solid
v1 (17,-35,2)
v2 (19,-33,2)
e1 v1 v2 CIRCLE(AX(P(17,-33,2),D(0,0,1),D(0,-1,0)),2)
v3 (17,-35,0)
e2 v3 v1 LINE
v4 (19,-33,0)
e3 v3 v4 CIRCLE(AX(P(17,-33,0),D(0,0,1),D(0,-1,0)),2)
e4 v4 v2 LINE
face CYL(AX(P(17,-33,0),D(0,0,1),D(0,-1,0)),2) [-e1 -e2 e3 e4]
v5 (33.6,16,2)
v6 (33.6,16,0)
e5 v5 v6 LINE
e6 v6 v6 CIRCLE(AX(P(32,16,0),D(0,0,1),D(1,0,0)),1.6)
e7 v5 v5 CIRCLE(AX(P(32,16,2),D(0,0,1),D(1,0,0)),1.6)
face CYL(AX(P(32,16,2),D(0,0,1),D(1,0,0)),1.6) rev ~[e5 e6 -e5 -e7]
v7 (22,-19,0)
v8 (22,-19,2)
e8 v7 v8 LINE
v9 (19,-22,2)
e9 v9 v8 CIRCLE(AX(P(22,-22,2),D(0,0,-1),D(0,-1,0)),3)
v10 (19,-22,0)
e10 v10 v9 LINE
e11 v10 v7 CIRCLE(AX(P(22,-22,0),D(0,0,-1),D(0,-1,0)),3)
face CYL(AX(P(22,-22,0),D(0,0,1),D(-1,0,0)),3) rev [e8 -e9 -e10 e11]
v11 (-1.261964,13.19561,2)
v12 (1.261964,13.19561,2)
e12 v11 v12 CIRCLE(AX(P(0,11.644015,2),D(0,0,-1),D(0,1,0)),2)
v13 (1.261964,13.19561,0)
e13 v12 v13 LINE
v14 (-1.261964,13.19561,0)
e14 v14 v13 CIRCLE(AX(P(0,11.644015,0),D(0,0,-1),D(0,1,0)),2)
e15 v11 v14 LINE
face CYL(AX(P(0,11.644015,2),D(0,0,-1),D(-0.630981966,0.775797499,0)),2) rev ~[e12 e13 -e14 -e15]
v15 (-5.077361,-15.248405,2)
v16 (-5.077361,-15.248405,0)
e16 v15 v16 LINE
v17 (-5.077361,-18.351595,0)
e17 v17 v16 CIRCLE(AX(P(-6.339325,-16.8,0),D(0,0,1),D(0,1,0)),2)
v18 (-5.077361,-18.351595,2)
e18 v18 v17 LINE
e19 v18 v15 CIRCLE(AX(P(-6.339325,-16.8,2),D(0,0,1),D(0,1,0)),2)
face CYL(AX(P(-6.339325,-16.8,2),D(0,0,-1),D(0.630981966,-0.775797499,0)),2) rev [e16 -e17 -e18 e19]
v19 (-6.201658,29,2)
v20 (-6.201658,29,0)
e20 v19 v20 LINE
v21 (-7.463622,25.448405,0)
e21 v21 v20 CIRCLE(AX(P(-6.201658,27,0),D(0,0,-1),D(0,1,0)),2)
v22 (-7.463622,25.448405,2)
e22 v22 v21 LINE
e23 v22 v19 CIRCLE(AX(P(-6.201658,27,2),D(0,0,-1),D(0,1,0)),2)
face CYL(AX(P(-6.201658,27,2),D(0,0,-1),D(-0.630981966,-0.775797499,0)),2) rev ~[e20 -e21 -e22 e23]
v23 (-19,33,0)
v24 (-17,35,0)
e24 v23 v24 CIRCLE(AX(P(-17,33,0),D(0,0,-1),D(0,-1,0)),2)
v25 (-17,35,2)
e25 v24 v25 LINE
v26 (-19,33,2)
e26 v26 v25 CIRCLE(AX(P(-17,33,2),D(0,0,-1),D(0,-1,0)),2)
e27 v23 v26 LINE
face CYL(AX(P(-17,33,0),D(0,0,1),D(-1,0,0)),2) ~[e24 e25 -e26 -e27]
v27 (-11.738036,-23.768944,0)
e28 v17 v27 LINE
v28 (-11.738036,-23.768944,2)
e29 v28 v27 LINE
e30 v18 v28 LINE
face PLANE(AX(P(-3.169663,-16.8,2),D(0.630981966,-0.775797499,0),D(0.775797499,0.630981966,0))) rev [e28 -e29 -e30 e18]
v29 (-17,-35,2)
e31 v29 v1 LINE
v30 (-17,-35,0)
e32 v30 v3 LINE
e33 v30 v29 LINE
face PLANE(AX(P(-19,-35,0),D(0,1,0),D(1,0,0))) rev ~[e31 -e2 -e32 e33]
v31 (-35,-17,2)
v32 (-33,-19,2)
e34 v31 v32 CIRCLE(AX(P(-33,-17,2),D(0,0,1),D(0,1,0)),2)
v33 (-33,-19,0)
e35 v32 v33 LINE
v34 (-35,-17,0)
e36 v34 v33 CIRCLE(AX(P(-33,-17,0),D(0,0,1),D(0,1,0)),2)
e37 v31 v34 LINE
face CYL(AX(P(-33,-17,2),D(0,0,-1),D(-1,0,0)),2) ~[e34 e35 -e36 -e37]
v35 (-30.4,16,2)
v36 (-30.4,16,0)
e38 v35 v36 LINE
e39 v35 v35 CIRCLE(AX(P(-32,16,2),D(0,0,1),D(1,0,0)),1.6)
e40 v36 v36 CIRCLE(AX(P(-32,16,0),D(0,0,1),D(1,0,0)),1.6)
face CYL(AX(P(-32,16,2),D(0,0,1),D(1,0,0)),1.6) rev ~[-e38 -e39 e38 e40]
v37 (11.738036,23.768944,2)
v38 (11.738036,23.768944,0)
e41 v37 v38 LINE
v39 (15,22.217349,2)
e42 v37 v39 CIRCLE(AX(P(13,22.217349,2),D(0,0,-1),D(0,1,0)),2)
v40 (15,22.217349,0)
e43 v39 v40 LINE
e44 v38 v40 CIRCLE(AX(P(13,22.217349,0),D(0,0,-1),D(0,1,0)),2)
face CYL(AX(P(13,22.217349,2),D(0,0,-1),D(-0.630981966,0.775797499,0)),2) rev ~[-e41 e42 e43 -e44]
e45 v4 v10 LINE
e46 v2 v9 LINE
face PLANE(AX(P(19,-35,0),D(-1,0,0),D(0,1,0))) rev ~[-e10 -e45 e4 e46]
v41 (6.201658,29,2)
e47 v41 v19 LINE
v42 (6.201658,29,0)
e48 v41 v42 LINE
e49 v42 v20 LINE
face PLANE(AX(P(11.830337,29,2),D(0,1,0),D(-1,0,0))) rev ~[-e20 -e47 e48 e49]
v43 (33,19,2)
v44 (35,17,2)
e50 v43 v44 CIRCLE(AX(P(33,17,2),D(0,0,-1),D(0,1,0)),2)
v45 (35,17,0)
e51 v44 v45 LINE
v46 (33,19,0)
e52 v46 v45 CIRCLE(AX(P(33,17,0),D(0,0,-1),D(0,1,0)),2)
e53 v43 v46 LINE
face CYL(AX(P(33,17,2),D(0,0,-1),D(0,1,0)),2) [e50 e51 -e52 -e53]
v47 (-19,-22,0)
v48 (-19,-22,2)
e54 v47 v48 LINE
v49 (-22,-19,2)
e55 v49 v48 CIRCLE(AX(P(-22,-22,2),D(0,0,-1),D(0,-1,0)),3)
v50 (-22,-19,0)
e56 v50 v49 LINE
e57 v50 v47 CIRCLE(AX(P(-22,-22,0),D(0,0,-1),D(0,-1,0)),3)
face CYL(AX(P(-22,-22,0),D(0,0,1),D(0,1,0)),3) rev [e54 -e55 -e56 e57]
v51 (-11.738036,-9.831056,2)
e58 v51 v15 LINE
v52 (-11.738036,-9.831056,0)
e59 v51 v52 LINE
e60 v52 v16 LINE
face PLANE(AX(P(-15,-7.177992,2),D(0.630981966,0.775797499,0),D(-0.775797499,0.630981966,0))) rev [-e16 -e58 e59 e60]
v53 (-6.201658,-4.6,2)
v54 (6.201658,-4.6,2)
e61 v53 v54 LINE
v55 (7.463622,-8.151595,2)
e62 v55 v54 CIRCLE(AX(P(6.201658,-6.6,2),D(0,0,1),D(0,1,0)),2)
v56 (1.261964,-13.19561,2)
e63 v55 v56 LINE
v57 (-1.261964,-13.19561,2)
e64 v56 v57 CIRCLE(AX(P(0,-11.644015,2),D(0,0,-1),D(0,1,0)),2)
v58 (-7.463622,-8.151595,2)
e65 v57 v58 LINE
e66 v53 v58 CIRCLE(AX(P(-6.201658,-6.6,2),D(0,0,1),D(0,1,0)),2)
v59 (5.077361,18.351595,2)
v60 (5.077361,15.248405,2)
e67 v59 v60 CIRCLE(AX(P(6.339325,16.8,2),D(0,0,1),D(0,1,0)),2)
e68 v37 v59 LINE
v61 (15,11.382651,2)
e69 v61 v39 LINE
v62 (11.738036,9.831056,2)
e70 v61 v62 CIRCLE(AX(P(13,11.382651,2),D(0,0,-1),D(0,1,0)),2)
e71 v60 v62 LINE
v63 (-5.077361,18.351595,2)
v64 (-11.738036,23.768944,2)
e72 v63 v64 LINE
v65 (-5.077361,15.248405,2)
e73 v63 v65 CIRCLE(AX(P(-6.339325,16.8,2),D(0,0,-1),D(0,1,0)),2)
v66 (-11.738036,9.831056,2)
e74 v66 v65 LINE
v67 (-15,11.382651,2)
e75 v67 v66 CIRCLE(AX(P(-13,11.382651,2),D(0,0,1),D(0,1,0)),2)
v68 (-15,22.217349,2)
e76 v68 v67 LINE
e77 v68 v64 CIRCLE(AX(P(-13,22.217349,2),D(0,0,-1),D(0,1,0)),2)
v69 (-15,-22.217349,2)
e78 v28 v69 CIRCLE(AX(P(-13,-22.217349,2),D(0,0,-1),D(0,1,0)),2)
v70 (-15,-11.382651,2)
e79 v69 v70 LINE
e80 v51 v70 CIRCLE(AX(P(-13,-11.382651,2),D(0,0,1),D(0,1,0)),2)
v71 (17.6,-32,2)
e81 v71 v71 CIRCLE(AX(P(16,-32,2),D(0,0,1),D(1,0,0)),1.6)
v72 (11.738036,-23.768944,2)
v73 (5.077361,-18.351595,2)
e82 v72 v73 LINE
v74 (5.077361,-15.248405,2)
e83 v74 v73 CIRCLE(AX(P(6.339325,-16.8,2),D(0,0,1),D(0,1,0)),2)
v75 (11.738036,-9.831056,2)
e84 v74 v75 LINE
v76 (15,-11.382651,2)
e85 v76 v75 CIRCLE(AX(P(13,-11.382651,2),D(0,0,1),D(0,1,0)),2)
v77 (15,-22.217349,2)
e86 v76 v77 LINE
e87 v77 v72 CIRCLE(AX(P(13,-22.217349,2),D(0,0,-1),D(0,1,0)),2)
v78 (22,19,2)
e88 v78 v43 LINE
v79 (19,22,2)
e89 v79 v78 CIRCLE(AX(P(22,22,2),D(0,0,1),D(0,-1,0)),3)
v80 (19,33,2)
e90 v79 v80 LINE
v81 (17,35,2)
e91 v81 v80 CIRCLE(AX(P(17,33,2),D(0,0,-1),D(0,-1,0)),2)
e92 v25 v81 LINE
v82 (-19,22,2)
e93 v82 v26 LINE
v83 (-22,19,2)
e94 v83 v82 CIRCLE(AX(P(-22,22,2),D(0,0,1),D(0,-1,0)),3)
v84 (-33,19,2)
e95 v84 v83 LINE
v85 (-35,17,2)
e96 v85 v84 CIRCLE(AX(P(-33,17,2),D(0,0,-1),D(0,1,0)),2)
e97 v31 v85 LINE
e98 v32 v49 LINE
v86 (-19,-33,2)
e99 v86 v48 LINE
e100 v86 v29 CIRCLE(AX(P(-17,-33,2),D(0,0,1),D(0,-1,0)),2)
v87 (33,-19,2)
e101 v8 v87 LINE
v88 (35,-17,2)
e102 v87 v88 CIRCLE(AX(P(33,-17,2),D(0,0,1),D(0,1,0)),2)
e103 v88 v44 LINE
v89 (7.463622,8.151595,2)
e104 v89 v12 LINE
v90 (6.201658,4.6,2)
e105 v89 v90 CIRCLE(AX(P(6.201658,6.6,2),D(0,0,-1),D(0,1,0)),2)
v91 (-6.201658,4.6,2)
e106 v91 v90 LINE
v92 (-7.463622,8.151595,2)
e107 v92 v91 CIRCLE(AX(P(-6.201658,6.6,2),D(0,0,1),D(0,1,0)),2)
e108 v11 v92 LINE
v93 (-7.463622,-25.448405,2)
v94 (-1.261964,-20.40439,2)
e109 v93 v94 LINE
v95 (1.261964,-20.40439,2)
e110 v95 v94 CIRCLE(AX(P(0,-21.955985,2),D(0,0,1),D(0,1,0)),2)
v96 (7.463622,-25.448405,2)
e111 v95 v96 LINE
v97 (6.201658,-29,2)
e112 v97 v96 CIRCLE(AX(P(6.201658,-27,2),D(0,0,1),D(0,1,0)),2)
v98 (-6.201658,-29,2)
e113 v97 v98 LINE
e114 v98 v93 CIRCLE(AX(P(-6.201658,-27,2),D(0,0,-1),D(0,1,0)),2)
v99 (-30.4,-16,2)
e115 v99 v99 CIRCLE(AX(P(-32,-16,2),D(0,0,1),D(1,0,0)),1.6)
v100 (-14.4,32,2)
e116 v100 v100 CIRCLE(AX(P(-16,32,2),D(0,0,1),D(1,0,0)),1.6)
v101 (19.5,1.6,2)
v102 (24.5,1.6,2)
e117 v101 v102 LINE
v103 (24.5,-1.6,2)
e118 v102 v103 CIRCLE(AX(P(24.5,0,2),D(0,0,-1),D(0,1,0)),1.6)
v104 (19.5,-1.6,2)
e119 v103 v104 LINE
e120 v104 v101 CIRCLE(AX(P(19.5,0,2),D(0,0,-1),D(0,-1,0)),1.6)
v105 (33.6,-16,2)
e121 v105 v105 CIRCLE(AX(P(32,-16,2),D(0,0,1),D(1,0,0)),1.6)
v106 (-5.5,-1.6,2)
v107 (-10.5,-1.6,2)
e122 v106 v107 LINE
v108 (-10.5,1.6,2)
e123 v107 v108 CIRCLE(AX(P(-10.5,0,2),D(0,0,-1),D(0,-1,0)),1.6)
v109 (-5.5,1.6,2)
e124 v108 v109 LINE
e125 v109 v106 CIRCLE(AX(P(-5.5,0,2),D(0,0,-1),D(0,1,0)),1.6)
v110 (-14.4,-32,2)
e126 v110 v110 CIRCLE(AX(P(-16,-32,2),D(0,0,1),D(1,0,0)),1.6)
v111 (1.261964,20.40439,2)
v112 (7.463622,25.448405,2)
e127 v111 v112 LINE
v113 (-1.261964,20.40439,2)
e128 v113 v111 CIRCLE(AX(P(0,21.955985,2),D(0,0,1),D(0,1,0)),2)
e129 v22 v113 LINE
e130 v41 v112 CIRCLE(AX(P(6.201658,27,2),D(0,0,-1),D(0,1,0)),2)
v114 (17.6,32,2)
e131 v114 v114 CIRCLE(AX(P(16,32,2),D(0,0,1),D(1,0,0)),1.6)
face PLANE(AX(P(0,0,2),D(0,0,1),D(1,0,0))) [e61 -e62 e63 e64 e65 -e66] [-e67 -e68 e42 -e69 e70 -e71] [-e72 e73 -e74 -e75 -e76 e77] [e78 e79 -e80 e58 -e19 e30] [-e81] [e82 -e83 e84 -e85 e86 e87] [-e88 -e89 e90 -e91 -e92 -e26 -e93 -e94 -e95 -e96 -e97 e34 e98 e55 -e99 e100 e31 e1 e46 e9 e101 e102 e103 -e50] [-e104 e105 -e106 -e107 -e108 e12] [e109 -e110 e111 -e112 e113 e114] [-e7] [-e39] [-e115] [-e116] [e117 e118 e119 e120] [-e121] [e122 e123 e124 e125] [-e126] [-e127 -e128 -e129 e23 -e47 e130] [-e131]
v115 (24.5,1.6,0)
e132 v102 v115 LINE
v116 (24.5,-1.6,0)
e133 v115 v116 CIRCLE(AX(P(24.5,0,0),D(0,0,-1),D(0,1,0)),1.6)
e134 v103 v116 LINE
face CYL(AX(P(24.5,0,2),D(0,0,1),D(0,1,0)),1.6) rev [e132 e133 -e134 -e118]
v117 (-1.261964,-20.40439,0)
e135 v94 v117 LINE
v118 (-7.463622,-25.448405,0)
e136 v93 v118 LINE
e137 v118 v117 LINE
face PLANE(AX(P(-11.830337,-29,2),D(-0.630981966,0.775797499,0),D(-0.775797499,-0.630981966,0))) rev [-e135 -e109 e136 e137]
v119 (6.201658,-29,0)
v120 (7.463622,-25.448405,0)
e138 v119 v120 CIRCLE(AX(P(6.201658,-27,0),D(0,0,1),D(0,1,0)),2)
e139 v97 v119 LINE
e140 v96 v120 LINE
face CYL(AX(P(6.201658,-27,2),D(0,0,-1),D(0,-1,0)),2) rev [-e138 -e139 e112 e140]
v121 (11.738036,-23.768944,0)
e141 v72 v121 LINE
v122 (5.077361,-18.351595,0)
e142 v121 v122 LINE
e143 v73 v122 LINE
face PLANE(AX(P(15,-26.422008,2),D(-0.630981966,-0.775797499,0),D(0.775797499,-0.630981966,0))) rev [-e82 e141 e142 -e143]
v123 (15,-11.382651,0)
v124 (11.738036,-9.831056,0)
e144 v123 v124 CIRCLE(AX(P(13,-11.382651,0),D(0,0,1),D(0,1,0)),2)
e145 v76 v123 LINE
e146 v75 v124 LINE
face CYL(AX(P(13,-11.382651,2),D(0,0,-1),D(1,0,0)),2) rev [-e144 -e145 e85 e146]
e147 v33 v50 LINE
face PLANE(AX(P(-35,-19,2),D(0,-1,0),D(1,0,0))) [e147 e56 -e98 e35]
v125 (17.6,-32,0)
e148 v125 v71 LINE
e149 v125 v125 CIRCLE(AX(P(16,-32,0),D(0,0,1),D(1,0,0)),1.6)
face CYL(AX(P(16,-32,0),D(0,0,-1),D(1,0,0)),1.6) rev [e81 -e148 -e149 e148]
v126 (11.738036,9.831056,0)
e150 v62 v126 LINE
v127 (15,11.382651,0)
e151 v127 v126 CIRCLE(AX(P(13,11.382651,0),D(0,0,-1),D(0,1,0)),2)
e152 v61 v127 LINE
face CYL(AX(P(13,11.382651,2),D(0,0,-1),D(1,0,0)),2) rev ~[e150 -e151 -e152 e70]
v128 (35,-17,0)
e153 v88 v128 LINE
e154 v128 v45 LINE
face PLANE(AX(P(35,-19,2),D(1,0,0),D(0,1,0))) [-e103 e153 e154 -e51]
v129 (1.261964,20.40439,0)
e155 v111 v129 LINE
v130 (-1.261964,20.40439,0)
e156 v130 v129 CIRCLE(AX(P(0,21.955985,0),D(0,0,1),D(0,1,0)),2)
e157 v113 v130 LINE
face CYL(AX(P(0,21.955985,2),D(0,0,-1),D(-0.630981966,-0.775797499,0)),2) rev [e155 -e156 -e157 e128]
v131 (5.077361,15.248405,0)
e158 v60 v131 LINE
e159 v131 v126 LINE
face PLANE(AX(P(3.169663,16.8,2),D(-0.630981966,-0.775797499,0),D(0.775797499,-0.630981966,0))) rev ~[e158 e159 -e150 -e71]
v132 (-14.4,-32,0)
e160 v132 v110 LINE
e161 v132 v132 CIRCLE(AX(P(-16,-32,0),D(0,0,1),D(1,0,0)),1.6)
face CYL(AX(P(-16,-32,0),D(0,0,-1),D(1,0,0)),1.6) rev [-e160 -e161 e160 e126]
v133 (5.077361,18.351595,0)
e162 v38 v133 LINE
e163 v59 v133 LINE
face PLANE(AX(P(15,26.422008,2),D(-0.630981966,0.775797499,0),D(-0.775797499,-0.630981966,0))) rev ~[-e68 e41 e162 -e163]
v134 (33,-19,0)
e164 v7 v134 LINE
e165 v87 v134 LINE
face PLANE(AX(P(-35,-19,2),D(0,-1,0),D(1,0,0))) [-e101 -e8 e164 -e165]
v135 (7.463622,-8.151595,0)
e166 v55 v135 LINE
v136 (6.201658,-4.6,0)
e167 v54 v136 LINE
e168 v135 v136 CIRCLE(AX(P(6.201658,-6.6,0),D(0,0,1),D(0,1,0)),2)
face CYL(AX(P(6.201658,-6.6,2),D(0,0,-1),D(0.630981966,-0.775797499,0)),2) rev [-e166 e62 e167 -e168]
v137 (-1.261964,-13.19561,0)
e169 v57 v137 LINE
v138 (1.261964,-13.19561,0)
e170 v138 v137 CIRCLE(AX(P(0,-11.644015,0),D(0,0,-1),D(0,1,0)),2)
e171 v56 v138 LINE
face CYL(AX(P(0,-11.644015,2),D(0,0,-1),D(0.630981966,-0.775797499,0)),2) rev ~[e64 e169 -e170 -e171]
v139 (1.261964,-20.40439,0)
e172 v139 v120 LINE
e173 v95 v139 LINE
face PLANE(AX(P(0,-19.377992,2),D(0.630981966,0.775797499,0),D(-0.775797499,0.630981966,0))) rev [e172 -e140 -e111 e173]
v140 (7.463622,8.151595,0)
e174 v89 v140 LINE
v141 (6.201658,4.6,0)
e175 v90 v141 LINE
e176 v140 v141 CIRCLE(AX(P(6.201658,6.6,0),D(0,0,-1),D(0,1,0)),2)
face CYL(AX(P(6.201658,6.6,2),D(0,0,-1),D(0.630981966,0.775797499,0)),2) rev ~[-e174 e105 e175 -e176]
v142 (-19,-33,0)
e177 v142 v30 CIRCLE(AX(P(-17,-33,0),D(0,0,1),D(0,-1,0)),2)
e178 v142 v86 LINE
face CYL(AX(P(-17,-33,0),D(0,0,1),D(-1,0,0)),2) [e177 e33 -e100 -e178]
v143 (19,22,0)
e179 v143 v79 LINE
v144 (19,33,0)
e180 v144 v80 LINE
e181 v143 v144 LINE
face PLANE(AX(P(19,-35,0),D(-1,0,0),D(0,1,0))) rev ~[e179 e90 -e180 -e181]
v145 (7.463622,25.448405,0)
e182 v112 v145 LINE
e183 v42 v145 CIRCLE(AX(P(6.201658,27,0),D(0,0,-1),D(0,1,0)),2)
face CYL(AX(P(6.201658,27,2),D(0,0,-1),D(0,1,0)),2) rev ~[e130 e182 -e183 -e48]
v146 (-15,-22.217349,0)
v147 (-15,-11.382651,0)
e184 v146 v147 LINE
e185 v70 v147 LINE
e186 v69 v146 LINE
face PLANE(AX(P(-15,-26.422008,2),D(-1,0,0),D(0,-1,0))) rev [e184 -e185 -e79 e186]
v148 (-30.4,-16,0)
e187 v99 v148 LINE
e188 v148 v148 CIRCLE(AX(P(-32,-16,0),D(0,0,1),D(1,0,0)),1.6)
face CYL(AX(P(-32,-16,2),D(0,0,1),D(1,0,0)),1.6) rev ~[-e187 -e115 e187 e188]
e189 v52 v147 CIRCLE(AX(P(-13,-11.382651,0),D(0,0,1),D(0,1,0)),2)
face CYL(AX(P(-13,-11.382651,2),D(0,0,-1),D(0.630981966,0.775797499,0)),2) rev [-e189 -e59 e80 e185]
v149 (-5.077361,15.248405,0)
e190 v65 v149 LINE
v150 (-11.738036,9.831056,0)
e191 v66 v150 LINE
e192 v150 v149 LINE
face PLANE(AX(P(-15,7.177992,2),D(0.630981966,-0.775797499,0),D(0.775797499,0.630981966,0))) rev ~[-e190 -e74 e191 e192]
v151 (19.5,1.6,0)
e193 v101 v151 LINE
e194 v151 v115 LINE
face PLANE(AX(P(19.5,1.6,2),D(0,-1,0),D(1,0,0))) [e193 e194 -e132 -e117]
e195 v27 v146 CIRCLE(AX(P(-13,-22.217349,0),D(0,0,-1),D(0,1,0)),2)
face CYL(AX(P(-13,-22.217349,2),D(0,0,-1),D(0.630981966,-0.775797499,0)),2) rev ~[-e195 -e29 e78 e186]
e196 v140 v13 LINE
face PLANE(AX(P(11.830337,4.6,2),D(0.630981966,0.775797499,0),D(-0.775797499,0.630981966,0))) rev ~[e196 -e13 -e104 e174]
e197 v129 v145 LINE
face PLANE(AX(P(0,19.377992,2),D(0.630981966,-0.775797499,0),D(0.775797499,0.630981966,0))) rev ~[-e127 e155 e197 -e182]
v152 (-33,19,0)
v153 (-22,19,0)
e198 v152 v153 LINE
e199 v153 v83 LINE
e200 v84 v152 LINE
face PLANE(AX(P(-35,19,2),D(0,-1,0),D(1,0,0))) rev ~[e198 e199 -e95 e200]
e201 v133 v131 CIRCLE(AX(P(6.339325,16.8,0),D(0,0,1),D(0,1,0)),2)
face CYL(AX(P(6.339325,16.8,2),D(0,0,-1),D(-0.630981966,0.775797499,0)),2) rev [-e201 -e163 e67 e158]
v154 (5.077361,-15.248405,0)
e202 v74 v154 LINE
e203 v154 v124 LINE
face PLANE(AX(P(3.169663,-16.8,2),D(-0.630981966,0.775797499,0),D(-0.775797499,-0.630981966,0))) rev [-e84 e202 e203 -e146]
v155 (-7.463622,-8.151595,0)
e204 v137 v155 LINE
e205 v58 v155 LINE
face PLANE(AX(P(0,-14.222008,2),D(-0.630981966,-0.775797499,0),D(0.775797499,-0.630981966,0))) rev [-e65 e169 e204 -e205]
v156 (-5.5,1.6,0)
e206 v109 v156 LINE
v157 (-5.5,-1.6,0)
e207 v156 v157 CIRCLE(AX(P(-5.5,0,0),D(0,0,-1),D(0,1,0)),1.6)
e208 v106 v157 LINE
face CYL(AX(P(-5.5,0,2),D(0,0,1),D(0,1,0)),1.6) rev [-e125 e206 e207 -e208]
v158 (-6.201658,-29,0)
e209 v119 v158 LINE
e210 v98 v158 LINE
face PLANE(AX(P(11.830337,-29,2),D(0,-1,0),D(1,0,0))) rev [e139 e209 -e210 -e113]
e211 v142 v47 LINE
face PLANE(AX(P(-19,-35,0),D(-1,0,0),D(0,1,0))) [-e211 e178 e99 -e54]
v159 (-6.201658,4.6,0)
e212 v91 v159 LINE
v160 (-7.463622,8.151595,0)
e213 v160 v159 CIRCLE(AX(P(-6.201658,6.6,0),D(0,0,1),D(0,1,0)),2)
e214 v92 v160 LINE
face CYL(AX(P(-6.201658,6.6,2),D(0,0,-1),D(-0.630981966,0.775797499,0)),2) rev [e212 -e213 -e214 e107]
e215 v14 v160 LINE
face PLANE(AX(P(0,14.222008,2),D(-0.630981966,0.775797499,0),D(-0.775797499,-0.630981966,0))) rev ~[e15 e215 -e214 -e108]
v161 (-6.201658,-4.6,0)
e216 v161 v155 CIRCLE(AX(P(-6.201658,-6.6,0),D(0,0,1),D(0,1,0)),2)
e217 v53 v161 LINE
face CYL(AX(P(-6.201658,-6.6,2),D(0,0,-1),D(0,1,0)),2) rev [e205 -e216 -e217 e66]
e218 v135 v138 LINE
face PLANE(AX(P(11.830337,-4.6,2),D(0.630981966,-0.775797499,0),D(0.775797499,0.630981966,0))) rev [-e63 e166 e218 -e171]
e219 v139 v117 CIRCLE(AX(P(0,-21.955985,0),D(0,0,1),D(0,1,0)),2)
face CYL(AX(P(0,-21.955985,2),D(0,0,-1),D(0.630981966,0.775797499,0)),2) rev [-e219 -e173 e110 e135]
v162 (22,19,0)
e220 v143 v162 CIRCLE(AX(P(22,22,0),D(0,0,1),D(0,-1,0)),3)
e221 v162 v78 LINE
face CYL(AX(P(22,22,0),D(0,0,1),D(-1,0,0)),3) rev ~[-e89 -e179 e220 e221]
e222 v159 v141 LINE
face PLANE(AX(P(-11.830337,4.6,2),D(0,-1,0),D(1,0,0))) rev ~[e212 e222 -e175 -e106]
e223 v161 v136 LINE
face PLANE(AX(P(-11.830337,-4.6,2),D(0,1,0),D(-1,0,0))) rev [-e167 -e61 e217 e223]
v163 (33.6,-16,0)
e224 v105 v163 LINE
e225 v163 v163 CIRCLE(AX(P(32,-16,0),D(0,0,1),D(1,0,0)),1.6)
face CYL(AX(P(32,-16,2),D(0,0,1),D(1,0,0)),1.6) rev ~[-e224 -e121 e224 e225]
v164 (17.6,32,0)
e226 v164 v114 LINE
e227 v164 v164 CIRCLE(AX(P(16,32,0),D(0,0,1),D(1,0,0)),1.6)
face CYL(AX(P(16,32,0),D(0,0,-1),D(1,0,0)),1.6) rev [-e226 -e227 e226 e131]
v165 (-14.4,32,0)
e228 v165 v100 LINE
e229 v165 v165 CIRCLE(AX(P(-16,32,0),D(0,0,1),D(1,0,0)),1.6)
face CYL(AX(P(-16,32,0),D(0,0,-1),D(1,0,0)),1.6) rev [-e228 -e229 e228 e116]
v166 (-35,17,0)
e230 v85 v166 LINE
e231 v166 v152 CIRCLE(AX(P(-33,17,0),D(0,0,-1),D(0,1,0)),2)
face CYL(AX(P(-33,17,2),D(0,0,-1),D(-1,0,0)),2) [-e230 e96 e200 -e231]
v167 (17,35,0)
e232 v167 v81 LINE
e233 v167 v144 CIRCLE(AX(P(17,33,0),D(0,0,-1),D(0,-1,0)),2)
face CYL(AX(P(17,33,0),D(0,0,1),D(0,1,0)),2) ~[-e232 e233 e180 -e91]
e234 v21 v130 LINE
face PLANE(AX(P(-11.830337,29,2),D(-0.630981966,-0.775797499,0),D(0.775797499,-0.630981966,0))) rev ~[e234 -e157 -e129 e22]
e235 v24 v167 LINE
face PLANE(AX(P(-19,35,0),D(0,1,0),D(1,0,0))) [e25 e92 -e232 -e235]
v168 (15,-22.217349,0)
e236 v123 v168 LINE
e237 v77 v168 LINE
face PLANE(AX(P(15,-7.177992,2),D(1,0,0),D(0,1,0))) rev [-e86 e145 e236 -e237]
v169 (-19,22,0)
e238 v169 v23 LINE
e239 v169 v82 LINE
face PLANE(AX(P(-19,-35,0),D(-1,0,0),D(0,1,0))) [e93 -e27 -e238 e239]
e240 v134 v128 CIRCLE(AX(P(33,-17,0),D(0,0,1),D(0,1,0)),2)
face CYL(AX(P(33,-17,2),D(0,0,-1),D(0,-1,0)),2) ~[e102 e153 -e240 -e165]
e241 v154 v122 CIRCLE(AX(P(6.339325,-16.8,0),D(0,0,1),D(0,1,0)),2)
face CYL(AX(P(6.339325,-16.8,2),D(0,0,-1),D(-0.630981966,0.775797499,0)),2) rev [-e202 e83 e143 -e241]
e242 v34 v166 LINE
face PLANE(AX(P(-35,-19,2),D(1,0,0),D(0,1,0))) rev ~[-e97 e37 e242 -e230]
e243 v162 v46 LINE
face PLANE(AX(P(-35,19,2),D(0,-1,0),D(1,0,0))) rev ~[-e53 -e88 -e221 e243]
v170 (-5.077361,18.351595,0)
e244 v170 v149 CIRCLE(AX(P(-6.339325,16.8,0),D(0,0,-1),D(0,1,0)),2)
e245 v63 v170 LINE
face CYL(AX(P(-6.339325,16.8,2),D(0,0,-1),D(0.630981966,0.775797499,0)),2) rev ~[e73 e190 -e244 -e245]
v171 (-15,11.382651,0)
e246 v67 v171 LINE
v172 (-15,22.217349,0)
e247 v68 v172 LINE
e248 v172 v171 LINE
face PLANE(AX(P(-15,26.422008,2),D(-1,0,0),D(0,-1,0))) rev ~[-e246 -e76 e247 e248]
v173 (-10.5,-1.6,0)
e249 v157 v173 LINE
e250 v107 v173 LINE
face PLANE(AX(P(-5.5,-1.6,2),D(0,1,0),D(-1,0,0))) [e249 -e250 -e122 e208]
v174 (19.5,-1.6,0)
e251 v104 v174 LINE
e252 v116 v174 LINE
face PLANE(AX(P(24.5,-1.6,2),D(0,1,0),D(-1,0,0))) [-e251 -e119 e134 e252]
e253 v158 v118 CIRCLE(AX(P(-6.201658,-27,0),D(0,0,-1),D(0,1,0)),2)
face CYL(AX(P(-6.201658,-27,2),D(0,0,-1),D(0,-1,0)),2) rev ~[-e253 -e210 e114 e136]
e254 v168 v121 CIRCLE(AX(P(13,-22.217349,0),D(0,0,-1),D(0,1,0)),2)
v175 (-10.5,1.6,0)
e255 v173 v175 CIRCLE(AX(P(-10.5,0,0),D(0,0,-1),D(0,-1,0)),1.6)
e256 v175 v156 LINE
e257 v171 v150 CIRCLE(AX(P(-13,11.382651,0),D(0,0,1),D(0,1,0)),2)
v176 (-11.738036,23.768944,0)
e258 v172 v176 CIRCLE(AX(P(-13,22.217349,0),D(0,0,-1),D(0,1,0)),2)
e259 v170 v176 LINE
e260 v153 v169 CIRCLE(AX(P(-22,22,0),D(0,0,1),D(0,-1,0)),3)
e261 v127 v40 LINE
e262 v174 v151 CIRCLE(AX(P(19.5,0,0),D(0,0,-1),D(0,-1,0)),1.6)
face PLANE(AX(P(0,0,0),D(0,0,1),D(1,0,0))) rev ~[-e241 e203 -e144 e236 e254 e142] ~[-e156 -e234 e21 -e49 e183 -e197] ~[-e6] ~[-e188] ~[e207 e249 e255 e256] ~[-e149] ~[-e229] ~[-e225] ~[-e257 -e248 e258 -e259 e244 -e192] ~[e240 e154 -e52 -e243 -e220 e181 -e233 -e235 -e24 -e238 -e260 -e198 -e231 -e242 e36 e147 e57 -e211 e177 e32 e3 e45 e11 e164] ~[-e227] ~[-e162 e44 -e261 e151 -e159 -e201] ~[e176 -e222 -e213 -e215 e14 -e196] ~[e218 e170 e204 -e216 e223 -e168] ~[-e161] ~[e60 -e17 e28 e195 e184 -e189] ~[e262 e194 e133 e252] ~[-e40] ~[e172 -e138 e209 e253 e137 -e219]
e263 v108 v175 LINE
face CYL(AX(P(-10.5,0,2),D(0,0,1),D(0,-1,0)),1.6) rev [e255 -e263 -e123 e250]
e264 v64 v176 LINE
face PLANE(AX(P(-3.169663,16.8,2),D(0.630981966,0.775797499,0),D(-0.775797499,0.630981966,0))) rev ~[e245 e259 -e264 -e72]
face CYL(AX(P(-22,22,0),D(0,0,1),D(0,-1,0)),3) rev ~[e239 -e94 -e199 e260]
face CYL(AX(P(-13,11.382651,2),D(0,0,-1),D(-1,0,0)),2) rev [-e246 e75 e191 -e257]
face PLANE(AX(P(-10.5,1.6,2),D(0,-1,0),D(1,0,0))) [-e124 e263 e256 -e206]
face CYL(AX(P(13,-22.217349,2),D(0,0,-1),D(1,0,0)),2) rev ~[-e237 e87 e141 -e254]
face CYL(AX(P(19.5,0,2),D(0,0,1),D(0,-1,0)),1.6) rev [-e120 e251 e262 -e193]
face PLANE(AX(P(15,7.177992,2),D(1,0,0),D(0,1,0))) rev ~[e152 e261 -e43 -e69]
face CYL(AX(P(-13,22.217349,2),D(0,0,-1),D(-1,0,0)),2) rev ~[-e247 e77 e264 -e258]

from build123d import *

# Parameters (mm, degrees)
SKETCH_1_W          = 38
SKETCH_1_H          = 70
SKETCH_1_R          = 1.6
EXTRUDE_1_DEPTH     = 2
FILLET_1_R          = 2
SKETCH_3_W          = 70
SKETCH_3_H          = 38
SKETCH_3_R          = 1.6
EXTRUDE_2_DEPTH     = 2
CUT_EXTRUDE_2_DEPTH = 2
FILLET_3_R          = 2
FILLET_4_R          = 3
CUT_EXTRUDE_3_DEPTH = 2
FILLET_5_R          = 2


with BuildPart() as part:
    # 草图1 → 凸台-拉伸1 (new body)
    with BuildSketch(Plane.XY):
        Rectangle(SKETCH_1_W, SKETCH_1_H)
        with Locations((16, 32)):
            Circle(SKETCH_1_R, mode=Mode.SUBTRACT)
        with Locations((-16, 32)):
            Circle(SKETCH_1_R, mode=Mode.SUBTRACT)
        with Locations((-16, -32)):
            Circle(SKETCH_1_R, mode=Mode.SUBTRACT)
        with Locations((16, -32)):
            Circle(SKETCH_1_R, mode=Mode.SUBTRACT)
    extrude(amount=EXTRUDE_1_DEPTH)

    # 圆角1
    fillet_1_edges = [part.edges().sort_by_distance(p)[0] for p in [
        (19, -35, 1),
        (-19, -35, 1),
        (-19, 35, 1),
        (19, 35, 1),
    ]]
    fillet(fillet_1_edges, radius=FILLET_1_R)

    # 草图3 → 凸台-拉伸2 (add)
    with BuildSketch(Plane.XY.offset(2)):
        Rectangle(SKETCH_3_W, SKETCH_3_H)
        with Locations((32, 16)):
            Circle(SKETCH_3_R, mode=Mode.SUBTRACT)
        with Locations((-32, 16)):
            Circle(SKETCH_3_R, mode=Mode.SUBTRACT)
        with Locations((-32, -16)):
            Circle(SKETCH_3_R, mode=Mode.SUBTRACT)
        with Locations((32, -16)):
            Circle(SKETCH_3_R, mode=Mode.SUBTRACT)
    extrude(amount=-EXTRUDE_2_DEPTH)

    # 草图4 → 切除-拉伸2 (cut)
    with BuildSketch(Plane.XY.offset(2)):
        with BuildLine():
            Line((-10.5, 1.6), (-5.5, 1.6))
            ThreePointArc((-5.5, 1.6), (-3.9, 0), (-5.5, -1.6))
            Line((-5.5, -1.6), (-10.5, -1.6))
            ThreePointArc((-10.5, -1.6), (-12.1, 0), (-10.5, 1.6))
        make_face()
        with BuildLine():
            Line((19.5, 1.6), (24.5, 1.6))
            ThreePointArc((24.5, 1.6), (26.1, 0), (24.5, -1.6))
            Line((24.5, -1.6), (19.5, -1.6))
            ThreePointArc((19.5, -1.6), (17.9, 0), (19.5, 1.6))
        make_face()
    extrude(amount=-CUT_EXTRUDE_2_DEPTH, mode=Mode.SUBTRACT)

    # 圆角3
    fillet_3_edges = [part.edges().sort_by_distance(p)[0] for p in [
        (35, -19, 1),
        (-35, 19, 1),
        (35, 19, 1),
        (-35, -19, 1),
    ]]
    fillet(fillet_3_edges, radius=FILLET_3_R)

    # 圆角4
    fillet_4_edges = [part.edges().sort_by_distance(p)[0] for p in [
        (-19, 19, 1),
        (-19, -19, 1),
        (19, -19, 1),
        (19, 19, 1),
    ]]
    fillet(fillet_4_edges, radius=FILLET_4_R)

    # 草图5 → 切除-拉伸3 (cut)
    with BuildSketch(Plane.XY.offset(2)):
        Polygon((0, 14.222007672), (-11.830337301, 4.6), (11.830337301, 4.6), align=None)
        Polygon((-15, 26.422007672), (-15, 7.177992328), (-3.169662699, 16.8), align=None)
        Polygon((-11.830337301, 29), (0, 19.377992328), (11.830337301, 29), align=None)
        Polygon((15, 26.422007672), (3.169662699, 16.8), (15, 7.177992328), align=None)
    cut_extrude_3 = extrude(amount=-CUT_EXTRUDE_3_DEPTH, mode=Mode.SUBTRACT)

    # 镜向1: 切除-拉伸3 across plane
    add(cut_extrude_3.mirror(Plane.ZX), mode=Mode.SUBTRACT)

    # 圆角5
    fillet_5_edges = [part.edges().sort_by_distance(p)[0] for p in [
        (-11.830337301, 29, 1),
        (11.830337301, 29, 1),
        (0, 19.377992328, 1),
        (-3.169662699, 16.8, 1),
        (-15, 7.177992328, 1),
        (-15, 26.422007672, 1),
        (15, 26.422007672, 1),
        (15, 7.177992328, 1),
        (3.169662699, 16.8, 1),
        (0, 14.222007672, 1),
        (11.830337301, 4.6, 1),
        (-11.830337301, 4.6, 1),
        (11.830337301, -29, 1),
        (-11.830337301, -29, 1),
        (0, -19.377992328, 1),
        (-15, -7.177992328, 1),
        (-3.169662699, -16.8, 1),
        (-15, -26.422007672, 1),
        (15, -7.177992328, 1),
        (15, -26.422007672, 1),
        (3.169662699, -16.8, 1),
        (11.830337301, -4.6, 1),
        (0, -14.222007672, 1),
        (-11.830337301, -4.6, 1),
    ]]
    fillet(fillet_5_edges, radius=FILLET_5_R)


solid = part.part
